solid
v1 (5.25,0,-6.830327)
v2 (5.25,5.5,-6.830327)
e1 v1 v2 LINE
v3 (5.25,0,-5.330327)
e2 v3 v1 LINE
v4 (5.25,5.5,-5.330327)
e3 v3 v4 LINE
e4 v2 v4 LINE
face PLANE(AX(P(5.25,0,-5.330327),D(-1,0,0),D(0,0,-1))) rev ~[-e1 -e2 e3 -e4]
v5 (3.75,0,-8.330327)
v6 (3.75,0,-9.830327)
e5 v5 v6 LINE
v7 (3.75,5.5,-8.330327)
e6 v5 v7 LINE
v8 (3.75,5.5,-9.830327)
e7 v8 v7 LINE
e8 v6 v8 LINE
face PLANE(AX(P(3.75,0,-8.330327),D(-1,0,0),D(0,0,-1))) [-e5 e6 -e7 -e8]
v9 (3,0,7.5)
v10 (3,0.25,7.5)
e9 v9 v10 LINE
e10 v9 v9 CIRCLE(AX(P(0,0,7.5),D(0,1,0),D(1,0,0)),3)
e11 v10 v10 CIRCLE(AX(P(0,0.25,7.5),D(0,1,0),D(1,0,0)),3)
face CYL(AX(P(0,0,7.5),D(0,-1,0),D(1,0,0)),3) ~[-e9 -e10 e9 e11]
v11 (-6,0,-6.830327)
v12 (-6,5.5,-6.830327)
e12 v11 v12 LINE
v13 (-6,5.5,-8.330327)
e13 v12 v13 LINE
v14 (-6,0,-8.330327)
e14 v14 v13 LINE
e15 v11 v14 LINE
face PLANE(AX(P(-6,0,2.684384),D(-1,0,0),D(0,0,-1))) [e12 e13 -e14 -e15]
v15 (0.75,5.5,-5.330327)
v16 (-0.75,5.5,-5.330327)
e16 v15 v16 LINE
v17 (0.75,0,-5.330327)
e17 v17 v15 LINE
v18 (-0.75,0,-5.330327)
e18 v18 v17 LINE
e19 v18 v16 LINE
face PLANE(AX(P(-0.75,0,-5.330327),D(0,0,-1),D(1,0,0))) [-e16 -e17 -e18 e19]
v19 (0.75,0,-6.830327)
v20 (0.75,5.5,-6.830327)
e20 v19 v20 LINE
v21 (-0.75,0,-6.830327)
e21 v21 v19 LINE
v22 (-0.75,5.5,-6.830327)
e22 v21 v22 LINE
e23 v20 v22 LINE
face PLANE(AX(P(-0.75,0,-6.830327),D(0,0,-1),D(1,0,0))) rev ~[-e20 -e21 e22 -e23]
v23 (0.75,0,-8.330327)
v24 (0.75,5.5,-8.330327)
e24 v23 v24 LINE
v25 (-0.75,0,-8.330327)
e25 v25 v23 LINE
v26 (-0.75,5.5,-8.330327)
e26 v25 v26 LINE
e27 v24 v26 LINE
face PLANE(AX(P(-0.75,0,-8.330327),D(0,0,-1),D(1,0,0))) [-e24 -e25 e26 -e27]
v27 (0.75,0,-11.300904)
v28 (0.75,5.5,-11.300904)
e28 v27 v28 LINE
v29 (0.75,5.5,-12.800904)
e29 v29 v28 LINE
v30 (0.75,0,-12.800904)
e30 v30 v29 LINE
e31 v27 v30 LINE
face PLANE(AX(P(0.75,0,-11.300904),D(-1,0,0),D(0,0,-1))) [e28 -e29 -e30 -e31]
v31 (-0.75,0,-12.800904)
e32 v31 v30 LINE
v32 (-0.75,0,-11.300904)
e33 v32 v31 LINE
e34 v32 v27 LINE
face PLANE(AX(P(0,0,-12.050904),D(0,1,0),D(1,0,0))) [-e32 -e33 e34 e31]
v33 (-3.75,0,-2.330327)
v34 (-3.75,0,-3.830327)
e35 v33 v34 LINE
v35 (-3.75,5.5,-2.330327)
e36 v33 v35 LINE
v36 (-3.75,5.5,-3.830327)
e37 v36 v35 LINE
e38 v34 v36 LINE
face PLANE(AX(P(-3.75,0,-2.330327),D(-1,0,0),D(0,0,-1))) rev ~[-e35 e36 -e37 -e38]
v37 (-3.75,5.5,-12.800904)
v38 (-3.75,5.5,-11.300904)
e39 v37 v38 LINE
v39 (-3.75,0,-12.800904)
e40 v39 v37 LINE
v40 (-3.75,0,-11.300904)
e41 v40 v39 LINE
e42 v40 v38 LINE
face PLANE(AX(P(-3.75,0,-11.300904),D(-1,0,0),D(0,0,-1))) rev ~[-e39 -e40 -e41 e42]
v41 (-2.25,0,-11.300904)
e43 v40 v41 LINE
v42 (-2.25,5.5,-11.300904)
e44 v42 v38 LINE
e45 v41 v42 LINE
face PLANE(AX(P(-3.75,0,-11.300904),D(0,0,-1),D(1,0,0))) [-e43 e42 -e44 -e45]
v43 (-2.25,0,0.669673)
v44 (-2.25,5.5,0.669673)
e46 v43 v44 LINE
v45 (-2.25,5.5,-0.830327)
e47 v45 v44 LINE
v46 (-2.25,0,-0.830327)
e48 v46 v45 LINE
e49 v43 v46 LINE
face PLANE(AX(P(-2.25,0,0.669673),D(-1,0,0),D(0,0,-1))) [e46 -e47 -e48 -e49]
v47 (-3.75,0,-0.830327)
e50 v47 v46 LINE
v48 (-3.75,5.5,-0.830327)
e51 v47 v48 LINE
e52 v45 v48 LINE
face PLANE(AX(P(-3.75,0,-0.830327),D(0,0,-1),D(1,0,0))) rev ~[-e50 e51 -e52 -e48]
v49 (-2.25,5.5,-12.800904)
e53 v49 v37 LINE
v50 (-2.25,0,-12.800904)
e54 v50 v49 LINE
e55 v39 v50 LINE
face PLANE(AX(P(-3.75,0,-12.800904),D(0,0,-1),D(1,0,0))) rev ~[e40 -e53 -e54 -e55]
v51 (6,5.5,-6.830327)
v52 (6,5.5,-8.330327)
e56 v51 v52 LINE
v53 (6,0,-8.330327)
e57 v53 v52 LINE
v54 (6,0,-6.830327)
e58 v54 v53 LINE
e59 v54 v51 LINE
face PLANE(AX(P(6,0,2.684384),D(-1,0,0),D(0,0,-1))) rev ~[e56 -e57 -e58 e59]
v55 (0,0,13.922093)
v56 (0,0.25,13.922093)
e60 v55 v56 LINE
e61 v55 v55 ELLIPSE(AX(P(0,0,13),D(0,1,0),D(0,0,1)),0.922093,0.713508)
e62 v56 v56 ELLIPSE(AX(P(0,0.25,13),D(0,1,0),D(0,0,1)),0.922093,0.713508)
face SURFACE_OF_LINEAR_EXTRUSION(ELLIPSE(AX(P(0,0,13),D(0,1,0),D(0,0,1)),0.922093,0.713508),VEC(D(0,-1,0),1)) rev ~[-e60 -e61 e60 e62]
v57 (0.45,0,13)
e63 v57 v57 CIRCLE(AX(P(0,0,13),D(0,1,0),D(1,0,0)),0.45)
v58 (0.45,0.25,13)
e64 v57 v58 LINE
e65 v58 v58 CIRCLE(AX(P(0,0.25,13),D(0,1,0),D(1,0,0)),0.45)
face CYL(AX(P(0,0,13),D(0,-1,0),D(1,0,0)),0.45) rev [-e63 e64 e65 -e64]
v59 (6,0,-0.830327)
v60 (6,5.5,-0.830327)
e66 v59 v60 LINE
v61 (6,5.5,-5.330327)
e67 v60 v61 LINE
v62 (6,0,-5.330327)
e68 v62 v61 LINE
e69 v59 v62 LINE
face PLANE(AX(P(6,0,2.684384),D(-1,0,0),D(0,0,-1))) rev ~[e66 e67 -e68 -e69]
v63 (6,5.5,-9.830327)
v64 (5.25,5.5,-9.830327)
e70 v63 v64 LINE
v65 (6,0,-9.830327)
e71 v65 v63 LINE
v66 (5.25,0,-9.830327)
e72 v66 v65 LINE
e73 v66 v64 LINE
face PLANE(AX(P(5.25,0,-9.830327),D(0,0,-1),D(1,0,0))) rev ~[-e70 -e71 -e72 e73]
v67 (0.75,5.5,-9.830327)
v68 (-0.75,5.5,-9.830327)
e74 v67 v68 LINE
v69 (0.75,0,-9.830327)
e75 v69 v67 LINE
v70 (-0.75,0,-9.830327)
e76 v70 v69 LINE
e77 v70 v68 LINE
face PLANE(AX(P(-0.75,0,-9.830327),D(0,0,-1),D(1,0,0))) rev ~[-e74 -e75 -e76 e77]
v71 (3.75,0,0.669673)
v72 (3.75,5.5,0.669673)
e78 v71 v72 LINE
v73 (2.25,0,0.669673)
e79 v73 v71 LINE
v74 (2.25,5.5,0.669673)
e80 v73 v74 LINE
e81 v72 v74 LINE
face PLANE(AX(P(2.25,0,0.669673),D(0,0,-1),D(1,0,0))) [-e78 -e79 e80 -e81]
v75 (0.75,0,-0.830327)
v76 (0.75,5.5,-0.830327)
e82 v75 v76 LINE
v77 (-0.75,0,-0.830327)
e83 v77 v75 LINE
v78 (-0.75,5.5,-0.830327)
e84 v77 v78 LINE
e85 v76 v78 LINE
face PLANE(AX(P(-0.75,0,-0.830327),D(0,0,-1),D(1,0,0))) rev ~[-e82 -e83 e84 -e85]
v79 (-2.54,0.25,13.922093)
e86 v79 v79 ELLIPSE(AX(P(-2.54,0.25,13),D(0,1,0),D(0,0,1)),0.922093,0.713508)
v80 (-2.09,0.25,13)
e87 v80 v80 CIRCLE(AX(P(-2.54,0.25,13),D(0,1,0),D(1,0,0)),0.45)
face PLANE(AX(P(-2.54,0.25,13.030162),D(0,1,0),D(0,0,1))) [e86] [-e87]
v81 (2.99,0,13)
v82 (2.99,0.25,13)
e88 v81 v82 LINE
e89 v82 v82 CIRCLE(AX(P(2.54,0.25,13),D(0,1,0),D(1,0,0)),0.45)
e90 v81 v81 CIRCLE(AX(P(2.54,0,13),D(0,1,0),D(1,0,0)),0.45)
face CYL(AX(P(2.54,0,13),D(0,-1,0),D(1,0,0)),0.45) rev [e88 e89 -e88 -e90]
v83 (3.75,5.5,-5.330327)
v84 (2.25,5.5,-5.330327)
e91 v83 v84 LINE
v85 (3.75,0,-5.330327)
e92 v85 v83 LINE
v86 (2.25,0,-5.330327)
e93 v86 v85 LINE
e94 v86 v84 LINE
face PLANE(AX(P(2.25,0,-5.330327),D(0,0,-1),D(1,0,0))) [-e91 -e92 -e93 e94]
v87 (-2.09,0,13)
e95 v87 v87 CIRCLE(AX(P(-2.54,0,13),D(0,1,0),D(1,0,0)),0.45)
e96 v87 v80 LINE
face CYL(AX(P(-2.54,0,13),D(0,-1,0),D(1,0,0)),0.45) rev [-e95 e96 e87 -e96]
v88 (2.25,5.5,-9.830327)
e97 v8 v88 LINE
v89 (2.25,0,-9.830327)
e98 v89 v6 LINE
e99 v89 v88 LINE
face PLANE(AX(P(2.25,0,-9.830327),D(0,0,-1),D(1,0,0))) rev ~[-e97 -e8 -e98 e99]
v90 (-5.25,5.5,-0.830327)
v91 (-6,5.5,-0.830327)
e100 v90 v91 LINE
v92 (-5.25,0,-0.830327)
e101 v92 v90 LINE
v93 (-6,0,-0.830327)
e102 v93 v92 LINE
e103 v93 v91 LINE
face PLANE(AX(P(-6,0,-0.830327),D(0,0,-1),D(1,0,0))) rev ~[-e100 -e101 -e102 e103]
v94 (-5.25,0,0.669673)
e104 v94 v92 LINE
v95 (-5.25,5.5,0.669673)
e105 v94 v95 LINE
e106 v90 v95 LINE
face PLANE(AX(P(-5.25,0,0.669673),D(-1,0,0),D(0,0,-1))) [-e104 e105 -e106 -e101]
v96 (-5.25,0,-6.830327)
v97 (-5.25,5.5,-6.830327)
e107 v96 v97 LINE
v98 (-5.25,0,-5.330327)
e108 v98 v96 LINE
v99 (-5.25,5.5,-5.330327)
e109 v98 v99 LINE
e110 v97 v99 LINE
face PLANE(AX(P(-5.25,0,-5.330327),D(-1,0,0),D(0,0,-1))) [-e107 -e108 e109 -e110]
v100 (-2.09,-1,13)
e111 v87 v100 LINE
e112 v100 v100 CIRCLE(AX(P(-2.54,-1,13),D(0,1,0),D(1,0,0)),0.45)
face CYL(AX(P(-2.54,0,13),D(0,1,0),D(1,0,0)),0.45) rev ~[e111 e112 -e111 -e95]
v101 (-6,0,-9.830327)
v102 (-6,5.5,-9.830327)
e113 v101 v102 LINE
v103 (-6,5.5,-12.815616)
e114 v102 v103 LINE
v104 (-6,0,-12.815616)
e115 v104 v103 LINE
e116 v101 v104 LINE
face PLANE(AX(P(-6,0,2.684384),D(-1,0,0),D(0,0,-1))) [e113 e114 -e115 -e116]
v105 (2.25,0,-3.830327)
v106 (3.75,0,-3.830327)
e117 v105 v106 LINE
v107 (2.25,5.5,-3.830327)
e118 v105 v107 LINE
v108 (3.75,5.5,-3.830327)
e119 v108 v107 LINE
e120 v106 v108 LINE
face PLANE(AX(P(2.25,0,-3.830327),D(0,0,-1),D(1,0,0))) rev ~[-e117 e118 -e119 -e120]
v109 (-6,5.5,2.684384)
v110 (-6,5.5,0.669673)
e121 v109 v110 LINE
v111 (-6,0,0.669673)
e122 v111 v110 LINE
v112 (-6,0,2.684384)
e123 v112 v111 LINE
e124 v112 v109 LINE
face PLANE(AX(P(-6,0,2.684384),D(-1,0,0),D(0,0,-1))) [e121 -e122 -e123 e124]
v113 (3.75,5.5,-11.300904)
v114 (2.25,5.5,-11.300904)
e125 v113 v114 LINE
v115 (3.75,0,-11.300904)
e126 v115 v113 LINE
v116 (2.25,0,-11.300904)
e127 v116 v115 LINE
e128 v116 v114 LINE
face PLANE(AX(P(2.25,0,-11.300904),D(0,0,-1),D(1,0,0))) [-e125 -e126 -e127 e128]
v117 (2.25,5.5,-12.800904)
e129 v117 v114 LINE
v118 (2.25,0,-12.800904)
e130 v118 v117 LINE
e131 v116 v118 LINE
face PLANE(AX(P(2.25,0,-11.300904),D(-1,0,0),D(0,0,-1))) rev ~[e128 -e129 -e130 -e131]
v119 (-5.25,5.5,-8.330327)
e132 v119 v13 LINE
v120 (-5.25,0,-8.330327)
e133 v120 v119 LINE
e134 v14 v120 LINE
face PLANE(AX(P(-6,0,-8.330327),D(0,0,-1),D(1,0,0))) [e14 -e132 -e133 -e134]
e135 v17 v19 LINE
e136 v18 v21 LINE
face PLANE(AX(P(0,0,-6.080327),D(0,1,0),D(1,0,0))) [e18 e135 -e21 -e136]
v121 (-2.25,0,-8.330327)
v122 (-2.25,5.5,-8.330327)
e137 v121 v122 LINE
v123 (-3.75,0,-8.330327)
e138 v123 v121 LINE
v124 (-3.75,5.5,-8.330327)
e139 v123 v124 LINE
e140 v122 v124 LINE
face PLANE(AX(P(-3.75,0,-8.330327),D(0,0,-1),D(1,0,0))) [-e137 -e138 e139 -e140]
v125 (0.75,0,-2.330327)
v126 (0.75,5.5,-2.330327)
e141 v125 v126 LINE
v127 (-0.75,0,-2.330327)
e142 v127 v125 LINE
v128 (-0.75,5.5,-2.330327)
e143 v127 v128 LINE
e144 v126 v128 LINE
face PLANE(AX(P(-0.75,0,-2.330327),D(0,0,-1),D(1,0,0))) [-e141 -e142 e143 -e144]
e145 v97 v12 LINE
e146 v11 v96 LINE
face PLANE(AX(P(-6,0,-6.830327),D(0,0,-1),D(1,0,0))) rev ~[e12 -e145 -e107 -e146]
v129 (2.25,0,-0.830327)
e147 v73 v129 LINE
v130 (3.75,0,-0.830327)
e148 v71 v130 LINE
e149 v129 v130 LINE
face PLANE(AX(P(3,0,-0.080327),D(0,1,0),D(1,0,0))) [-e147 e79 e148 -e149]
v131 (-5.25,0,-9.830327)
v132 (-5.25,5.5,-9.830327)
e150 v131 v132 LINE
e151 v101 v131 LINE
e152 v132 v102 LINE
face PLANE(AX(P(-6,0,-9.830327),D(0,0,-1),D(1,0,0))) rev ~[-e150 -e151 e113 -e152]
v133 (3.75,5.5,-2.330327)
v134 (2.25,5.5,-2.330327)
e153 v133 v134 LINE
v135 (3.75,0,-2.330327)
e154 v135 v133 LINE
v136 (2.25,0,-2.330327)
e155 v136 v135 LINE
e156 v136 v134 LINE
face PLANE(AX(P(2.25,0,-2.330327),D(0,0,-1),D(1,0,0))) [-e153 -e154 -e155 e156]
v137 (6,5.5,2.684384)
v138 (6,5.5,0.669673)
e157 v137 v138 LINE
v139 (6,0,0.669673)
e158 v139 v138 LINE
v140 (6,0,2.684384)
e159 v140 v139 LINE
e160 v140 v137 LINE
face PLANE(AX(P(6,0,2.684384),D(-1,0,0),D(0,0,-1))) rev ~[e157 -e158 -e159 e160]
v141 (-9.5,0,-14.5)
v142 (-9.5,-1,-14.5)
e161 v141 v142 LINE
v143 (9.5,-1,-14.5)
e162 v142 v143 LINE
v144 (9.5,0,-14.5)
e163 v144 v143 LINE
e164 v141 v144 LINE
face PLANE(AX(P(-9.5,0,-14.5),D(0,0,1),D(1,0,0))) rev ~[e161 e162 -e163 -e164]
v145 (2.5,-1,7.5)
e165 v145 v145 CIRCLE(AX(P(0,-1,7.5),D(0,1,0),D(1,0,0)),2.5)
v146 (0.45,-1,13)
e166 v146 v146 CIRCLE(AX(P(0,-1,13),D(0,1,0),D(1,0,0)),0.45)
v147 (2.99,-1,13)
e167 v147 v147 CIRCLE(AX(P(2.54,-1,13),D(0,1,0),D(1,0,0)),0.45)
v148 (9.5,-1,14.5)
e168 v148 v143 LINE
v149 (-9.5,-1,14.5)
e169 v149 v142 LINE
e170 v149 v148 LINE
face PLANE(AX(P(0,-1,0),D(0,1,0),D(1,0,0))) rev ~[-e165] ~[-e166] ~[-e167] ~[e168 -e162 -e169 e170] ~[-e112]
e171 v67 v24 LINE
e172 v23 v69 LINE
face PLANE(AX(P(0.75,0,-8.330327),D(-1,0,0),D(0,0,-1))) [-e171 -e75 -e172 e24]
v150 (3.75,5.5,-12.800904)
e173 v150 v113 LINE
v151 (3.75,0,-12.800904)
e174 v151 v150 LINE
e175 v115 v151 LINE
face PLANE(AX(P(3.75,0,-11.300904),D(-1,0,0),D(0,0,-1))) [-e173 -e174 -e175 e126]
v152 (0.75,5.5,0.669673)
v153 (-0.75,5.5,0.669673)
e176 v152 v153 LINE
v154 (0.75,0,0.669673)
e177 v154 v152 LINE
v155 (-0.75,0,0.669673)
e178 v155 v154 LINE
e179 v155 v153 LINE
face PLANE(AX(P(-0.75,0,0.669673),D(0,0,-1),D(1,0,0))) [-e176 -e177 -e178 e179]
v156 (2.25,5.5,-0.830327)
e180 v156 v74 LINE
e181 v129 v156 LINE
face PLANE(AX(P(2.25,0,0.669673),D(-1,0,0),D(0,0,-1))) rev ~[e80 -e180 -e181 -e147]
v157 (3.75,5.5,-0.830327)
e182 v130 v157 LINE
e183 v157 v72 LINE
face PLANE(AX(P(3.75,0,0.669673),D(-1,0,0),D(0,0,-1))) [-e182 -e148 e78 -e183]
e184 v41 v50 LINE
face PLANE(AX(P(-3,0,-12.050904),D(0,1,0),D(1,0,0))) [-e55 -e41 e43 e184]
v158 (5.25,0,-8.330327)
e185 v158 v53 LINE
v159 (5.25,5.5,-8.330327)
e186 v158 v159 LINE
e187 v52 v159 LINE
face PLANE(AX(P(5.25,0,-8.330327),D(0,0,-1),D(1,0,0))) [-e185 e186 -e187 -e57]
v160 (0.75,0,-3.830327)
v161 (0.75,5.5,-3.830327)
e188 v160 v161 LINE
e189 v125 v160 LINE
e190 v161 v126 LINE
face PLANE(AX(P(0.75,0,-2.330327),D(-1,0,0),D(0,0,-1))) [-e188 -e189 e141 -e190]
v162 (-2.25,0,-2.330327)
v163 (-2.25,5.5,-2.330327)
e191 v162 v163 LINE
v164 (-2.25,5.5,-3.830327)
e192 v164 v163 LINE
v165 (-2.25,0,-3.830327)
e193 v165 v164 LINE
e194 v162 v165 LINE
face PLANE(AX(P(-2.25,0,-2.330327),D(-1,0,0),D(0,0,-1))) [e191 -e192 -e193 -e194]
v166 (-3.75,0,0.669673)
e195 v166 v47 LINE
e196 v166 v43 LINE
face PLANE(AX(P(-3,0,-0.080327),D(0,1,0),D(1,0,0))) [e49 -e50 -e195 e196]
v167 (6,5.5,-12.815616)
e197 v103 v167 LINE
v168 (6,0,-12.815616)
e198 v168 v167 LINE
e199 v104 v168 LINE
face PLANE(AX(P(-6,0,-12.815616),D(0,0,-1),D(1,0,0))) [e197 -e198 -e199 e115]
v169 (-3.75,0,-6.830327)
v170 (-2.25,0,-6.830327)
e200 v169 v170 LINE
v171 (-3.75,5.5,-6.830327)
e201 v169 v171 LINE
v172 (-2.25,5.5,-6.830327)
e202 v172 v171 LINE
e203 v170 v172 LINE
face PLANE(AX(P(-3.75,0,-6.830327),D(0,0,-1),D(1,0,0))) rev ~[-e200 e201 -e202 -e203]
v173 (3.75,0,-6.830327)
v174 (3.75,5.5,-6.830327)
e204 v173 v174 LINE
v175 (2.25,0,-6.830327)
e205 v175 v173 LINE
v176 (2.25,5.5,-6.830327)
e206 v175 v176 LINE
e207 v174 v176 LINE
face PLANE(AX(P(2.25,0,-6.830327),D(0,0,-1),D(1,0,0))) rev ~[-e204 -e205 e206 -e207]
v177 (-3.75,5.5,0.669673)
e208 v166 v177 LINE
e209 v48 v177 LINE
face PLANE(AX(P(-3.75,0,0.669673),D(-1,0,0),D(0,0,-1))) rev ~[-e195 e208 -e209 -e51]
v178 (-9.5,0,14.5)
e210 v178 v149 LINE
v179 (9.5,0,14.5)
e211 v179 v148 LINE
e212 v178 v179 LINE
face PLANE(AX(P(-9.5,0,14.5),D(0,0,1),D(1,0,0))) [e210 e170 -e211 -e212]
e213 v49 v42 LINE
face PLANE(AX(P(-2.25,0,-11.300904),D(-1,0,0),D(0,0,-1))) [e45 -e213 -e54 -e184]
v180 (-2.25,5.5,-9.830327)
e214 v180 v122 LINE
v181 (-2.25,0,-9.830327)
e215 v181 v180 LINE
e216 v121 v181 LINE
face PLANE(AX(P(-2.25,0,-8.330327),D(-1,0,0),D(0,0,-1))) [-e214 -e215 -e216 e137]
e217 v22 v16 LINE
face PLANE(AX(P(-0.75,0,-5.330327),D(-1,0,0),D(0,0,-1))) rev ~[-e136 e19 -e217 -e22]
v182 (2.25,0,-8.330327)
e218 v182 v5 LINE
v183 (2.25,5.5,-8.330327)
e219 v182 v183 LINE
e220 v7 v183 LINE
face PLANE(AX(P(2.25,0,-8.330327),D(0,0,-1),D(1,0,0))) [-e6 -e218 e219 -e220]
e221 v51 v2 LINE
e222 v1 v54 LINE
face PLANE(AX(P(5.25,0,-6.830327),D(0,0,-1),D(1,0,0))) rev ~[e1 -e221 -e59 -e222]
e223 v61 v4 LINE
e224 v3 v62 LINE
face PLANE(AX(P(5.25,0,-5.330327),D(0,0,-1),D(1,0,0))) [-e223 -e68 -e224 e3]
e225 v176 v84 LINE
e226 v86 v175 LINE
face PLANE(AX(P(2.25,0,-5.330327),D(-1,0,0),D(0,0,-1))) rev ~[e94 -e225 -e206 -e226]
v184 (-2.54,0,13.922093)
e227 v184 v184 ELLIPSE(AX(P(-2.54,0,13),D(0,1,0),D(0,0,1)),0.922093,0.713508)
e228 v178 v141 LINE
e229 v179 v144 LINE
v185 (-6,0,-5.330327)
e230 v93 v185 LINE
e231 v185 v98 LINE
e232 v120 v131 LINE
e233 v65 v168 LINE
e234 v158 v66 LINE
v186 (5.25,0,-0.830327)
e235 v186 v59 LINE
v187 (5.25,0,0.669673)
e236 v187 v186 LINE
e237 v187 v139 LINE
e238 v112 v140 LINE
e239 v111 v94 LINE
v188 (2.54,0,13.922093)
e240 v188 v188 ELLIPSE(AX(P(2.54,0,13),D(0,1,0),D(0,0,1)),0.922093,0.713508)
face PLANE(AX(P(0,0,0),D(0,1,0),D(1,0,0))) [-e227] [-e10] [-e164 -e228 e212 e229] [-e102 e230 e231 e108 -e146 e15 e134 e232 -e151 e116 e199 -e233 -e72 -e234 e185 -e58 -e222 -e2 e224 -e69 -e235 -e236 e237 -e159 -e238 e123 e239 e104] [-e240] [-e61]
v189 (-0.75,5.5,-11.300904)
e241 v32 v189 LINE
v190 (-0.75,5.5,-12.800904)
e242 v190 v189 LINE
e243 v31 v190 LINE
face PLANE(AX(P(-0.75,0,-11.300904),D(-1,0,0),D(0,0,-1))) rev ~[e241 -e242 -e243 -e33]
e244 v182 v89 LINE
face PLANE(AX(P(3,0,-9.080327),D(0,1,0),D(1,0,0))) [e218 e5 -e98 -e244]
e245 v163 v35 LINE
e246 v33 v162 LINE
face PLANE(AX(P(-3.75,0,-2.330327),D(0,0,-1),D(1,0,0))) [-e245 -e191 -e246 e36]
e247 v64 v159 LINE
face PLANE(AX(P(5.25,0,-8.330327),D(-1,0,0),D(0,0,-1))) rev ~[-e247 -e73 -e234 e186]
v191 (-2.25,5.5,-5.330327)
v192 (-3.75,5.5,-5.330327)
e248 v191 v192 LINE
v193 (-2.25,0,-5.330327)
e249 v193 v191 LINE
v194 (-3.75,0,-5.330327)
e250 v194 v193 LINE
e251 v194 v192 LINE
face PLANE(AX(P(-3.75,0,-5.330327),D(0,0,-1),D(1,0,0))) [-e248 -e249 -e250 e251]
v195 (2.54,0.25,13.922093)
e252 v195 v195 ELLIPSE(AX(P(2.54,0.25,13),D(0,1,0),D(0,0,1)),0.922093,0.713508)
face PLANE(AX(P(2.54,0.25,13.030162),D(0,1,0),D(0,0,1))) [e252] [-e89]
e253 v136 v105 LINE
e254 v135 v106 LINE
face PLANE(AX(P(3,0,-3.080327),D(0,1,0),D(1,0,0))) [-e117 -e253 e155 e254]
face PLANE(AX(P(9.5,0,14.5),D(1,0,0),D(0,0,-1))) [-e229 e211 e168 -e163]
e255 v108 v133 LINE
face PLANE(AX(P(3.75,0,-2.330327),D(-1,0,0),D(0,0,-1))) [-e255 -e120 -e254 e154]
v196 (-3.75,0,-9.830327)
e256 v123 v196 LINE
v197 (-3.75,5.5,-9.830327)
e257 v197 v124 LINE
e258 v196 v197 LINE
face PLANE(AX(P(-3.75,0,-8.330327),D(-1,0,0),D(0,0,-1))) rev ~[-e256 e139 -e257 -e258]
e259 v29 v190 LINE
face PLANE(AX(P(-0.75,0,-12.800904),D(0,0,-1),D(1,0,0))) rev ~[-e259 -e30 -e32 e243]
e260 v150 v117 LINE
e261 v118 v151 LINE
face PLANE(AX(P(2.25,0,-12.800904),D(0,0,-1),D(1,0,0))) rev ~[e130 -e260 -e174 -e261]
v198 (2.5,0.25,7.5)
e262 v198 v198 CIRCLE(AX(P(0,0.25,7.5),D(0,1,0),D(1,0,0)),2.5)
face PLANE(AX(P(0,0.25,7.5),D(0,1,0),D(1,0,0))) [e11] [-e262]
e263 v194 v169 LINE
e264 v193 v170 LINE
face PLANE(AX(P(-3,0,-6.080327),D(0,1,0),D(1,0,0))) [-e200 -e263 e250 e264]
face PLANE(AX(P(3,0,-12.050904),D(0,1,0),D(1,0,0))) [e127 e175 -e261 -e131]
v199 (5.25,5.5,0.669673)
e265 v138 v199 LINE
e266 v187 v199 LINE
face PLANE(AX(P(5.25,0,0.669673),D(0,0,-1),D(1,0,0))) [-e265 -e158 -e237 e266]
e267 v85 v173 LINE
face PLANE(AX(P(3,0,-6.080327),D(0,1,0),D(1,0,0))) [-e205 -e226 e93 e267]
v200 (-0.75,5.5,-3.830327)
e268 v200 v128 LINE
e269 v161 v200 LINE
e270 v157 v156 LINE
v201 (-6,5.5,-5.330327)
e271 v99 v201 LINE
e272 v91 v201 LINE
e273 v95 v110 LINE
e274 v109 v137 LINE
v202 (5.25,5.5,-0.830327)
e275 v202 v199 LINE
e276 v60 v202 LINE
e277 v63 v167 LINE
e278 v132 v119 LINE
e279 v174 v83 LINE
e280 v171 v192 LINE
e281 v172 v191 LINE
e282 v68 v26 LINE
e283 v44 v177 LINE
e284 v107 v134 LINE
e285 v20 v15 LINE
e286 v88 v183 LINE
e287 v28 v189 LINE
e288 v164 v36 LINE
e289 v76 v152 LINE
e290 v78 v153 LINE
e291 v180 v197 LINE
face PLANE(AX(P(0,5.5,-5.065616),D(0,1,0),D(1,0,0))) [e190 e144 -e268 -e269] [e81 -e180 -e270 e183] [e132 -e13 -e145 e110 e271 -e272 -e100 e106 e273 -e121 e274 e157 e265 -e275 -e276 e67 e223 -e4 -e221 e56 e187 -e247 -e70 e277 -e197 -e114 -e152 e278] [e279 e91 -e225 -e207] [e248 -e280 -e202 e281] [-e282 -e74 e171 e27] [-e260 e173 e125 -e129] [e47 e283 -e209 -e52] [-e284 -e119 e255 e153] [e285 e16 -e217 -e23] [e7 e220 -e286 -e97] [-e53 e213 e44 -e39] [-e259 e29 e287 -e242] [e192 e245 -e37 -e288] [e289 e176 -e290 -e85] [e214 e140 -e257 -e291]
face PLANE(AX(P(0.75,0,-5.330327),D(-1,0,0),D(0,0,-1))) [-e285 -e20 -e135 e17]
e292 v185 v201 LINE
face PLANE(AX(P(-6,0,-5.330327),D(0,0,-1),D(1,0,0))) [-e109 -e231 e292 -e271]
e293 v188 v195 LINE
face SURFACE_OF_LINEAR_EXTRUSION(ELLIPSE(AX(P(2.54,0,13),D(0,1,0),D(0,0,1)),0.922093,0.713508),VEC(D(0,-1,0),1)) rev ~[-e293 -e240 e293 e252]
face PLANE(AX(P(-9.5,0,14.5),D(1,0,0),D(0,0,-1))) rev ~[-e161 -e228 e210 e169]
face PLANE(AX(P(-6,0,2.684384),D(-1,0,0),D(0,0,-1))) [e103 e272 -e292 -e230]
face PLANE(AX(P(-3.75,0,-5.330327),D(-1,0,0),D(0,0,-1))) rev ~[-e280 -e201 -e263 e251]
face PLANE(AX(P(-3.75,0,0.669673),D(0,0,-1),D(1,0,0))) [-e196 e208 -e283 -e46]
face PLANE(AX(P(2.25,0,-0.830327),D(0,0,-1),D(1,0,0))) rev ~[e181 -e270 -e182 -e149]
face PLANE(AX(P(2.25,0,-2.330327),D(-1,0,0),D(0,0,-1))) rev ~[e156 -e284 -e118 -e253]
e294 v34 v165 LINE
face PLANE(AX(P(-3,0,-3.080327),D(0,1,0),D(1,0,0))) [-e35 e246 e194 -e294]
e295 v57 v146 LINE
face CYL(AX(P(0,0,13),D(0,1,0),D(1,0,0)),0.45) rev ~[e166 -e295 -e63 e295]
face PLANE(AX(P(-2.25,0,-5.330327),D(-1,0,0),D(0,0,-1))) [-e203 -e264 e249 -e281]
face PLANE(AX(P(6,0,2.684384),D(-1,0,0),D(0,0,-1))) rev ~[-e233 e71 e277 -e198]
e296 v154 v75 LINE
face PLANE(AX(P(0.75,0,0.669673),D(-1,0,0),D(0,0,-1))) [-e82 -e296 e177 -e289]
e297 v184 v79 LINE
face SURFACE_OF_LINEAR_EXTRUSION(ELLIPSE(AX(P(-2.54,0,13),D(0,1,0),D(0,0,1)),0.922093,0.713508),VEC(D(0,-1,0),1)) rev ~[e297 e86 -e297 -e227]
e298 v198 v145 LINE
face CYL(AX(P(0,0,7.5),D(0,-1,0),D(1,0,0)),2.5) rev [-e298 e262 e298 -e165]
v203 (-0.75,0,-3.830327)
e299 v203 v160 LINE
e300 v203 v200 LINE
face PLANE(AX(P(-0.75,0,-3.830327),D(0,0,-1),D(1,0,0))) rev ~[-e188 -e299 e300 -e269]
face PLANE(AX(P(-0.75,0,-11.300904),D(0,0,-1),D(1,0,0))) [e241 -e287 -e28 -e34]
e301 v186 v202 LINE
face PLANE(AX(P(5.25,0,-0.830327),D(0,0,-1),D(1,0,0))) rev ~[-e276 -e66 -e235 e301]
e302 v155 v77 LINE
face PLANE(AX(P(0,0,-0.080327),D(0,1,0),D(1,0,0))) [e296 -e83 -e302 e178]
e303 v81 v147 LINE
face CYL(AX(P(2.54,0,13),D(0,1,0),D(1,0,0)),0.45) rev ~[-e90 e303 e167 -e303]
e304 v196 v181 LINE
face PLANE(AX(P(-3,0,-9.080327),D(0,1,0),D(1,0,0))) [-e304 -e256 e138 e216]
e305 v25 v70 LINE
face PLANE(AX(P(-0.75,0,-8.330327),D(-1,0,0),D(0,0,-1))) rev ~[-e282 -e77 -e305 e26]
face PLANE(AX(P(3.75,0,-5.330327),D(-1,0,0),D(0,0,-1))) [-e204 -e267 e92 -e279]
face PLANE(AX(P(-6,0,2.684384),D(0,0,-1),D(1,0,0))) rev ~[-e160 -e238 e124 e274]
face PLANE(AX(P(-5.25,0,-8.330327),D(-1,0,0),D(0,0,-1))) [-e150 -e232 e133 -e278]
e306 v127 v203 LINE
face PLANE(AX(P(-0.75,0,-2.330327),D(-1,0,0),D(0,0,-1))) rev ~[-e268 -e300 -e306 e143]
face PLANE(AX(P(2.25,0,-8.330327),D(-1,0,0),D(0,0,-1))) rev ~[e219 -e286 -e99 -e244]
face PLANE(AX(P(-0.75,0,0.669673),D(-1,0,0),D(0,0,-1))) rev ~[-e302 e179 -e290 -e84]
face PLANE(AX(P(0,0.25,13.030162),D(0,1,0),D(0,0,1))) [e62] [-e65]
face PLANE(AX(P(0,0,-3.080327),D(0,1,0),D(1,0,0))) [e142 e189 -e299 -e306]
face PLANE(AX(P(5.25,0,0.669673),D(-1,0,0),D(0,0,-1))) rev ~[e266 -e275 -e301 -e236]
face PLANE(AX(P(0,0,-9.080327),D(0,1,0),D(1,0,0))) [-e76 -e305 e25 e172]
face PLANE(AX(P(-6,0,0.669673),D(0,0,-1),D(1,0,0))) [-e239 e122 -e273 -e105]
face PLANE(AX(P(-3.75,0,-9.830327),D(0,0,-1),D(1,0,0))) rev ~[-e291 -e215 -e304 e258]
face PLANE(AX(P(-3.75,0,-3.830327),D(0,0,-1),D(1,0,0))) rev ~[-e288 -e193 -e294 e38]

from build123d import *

# Parameters (mm, degrees)
SKETCH1_W               = 19
SKETCH1_H               = 29
SKETCH1_R               = 2.5
BOSS_EXTRUDE2_DEPTH     = 1
SKETCH3_R               = 3
SKETCH3_R_2             = 2.5
SKETCH3_RX              = 0.922092895
SKETCH3_RY              = 0.713508325
SKETCH3_R_3             = 0.45
BOSS_EXTRUDE3_DEPTH     = 0.25
SKETCH4_R               = 0.45
CUT_EXTRUDE1_DEPTH      = 1.25
CUT_EXTRUDE1_DEPTH_BACK = 2
SKETCH5_W               = 12
SKETCH5_H               = 15.5
BOSS_EXTRUDE4_DEPTH     = 5.5
SKETCH7_W               = 1.5
SKETCH7_H               = 1.5
SKETCH7_W_2             = 0.75
CUT_EXTRUDE2_DEPTH      = 6


with BuildPart() as part:
    # Sketch1 → Boss-Extrude2 (new body)
    with BuildSketch(Plane(origin=(0, 0, 0), x_dir=(1, 0, 0), z_dir=(0, 1, 0))):
        Rectangle(SKETCH1_W, SKETCH1_H)
        with Locations((0, -7.5)):
            Circle(SKETCH1_R, mode=Mode.SUBTRACT)
    extrude(amount=-BOSS_EXTRUDE2_DEPTH)

    # Sketch3 → Boss-Extrude3 (add)
    with BuildSketch(Plane(origin=(0, 0, 0), x_dir=(1, 0, 0), z_dir=(0, 1, 0))):
        with Locations((0, -7.5)):
            Circle(SKETCH3_R)
        with Locations((0, -7.5)):
            Circle(SKETCH3_R_2, mode=Mode.SUBTRACT)
        with Locations(Location((0, -13), (0, 0, -90))):
            Ellipse(SKETCH3_RX, SKETCH3_RY)
        with Locations((0, -13)):
            Circle(SKETCH3_R_3, mode=Mode.SUBTRACT)
        with Locations(Location((2.54, -13), (0, 0, -90))):
            Ellipse(SKETCH3_RX, SKETCH3_RY)
        with Locations((2.54, -13)):
            Circle(SKETCH3_R_3, mode=Mode.SUBTRACT)
        with Locations(Location((-2.54, -13), (0, 0, -90))):
            Ellipse(SKETCH3_RX, SKETCH3_RY)
        with Locations((-2.54, -13)):
            Circle(SKETCH3_R_3, mode=Mode.SUBTRACT)
    extrude(amount=BOSS_EXTRUDE3_DEPTH)

    # Sketch4 → Cut-Extrude1 (cut, two sides)
    with BuildSketch(Plane(origin=(0, 0, 0), x_dir=(1, 0, 0), z_dir=(0, 1, 0))) as cut_extrude1_sk:
        with Locations((-2.54, -13)):
            Circle(SKETCH4_R)
        with Locations((0, -13)):
            Circle(SKETCH4_R)
        with Locations((2.54, -13)):
            Circle(SKETCH4_R)
    extrude(amount=CUT_EXTRUDE1_DEPTH, mode=Mode.SUBTRACT)
    extrude(cut_extrude1_sk.sketch, amount=-CUT_EXTRUDE1_DEPTH_BACK, mode=Mode.SUBTRACT)

    # Sketch5 → Boss-Extrude4 (add)
    with BuildSketch(Plane(origin=(0, 0, 0), x_dir=(1, 0, 0), z_dir=(0, 1, 0))):
        with Locations((0, 5.065615618)):
            Rectangle(SKETCH5_W, SKETCH5_H)
    extrude(amount=BOSS_EXTRUDE4_DEPTH)

    # Sketch7 → Cut-Extrude2 (cut)
    with BuildSketch(Plane(origin=(0, 0, 0), x_dir=(1, 0, 0), z_dir=(0, 1, 0))):
        with Locations((-3, 12.050904241)):
            Rectangle(SKETCH7_W, SKETCH7_H)
        with Locations((0, 12.050904241)):
            Rectangle(SKETCH7_W, SKETCH7_H)
        with Locations((3, 12.050904241)):
            Rectangle(SKETCH7_W, SKETCH7_H)
        with Locations((-3, 9.080326995)):
            Rectangle(SKETCH7_W, SKETCH7_H)
        with Locations((3, 9.080326995)):
            Rectangle(SKETCH7_W, SKETCH7_H)
        with Locations((0, 9.080326995)):
            Rectangle(SKETCH7_W, SKETCH7_H)
        with Locations((-3, 6.080326995)):
            Rectangle(SKETCH7_W, SKETCH7_H)
        with Locations((0, 6.080326995)):
            Rectangle(SKETCH7_W, SKETCH7_H)
        with Locations((3, 6.080326995)):
            Rectangle(SKETCH7_W, SKETCH7_H)
        with Locations((-3, 3.080326995)):
            Rectangle(SKETCH7_W, SKETCH7_H)
        with Locations((3, 3.080326995)):
            Rectangle(SKETCH7_W, SKETCH7_H)
        with Locations((0, 3.080326995)):
            Rectangle(SKETCH7_W, SKETCH7_H)
        with Locations((-3, 0.080326995)):
            Rectangle(SKETCH7_W, SKETCH7_H)
        with Locations((0, 0.080326995)):
            Rectangle(SKETCH7_W, SKETCH7_H)
        with Locations((3, 0.080326995)):
            Rectangle(SKETCH7_W, SKETCH7_H)
        with Locations((5.625, 6.080326995)):
            Rectangle(SKETCH7_W_2, SKETCH7_H)
        with Locations((-5.625, 6.080326995)):
            Rectangle(SKETCH7_W_2, SKETCH7_H)
        with Locations((5.625, 9.080326995)):
            Rectangle(SKETCH7_W_2, SKETCH7_H)
        with Locations((-5.625, 9.080326995)):
            Rectangle(SKETCH7_W_2, SKETCH7_H)
        with Locations((5.625, 0.080326995)):
            Rectangle(SKETCH7_W_2, SKETCH7_H)
        with Locations((-5.625, 0.080326995)):
            Rectangle(SKETCH7_W_2, SKETCH7_H)
    extrude(amount=CUT_EXTRUDE2_DEPTH, mode=Mode.SUBTRACT)


solid = part.part
